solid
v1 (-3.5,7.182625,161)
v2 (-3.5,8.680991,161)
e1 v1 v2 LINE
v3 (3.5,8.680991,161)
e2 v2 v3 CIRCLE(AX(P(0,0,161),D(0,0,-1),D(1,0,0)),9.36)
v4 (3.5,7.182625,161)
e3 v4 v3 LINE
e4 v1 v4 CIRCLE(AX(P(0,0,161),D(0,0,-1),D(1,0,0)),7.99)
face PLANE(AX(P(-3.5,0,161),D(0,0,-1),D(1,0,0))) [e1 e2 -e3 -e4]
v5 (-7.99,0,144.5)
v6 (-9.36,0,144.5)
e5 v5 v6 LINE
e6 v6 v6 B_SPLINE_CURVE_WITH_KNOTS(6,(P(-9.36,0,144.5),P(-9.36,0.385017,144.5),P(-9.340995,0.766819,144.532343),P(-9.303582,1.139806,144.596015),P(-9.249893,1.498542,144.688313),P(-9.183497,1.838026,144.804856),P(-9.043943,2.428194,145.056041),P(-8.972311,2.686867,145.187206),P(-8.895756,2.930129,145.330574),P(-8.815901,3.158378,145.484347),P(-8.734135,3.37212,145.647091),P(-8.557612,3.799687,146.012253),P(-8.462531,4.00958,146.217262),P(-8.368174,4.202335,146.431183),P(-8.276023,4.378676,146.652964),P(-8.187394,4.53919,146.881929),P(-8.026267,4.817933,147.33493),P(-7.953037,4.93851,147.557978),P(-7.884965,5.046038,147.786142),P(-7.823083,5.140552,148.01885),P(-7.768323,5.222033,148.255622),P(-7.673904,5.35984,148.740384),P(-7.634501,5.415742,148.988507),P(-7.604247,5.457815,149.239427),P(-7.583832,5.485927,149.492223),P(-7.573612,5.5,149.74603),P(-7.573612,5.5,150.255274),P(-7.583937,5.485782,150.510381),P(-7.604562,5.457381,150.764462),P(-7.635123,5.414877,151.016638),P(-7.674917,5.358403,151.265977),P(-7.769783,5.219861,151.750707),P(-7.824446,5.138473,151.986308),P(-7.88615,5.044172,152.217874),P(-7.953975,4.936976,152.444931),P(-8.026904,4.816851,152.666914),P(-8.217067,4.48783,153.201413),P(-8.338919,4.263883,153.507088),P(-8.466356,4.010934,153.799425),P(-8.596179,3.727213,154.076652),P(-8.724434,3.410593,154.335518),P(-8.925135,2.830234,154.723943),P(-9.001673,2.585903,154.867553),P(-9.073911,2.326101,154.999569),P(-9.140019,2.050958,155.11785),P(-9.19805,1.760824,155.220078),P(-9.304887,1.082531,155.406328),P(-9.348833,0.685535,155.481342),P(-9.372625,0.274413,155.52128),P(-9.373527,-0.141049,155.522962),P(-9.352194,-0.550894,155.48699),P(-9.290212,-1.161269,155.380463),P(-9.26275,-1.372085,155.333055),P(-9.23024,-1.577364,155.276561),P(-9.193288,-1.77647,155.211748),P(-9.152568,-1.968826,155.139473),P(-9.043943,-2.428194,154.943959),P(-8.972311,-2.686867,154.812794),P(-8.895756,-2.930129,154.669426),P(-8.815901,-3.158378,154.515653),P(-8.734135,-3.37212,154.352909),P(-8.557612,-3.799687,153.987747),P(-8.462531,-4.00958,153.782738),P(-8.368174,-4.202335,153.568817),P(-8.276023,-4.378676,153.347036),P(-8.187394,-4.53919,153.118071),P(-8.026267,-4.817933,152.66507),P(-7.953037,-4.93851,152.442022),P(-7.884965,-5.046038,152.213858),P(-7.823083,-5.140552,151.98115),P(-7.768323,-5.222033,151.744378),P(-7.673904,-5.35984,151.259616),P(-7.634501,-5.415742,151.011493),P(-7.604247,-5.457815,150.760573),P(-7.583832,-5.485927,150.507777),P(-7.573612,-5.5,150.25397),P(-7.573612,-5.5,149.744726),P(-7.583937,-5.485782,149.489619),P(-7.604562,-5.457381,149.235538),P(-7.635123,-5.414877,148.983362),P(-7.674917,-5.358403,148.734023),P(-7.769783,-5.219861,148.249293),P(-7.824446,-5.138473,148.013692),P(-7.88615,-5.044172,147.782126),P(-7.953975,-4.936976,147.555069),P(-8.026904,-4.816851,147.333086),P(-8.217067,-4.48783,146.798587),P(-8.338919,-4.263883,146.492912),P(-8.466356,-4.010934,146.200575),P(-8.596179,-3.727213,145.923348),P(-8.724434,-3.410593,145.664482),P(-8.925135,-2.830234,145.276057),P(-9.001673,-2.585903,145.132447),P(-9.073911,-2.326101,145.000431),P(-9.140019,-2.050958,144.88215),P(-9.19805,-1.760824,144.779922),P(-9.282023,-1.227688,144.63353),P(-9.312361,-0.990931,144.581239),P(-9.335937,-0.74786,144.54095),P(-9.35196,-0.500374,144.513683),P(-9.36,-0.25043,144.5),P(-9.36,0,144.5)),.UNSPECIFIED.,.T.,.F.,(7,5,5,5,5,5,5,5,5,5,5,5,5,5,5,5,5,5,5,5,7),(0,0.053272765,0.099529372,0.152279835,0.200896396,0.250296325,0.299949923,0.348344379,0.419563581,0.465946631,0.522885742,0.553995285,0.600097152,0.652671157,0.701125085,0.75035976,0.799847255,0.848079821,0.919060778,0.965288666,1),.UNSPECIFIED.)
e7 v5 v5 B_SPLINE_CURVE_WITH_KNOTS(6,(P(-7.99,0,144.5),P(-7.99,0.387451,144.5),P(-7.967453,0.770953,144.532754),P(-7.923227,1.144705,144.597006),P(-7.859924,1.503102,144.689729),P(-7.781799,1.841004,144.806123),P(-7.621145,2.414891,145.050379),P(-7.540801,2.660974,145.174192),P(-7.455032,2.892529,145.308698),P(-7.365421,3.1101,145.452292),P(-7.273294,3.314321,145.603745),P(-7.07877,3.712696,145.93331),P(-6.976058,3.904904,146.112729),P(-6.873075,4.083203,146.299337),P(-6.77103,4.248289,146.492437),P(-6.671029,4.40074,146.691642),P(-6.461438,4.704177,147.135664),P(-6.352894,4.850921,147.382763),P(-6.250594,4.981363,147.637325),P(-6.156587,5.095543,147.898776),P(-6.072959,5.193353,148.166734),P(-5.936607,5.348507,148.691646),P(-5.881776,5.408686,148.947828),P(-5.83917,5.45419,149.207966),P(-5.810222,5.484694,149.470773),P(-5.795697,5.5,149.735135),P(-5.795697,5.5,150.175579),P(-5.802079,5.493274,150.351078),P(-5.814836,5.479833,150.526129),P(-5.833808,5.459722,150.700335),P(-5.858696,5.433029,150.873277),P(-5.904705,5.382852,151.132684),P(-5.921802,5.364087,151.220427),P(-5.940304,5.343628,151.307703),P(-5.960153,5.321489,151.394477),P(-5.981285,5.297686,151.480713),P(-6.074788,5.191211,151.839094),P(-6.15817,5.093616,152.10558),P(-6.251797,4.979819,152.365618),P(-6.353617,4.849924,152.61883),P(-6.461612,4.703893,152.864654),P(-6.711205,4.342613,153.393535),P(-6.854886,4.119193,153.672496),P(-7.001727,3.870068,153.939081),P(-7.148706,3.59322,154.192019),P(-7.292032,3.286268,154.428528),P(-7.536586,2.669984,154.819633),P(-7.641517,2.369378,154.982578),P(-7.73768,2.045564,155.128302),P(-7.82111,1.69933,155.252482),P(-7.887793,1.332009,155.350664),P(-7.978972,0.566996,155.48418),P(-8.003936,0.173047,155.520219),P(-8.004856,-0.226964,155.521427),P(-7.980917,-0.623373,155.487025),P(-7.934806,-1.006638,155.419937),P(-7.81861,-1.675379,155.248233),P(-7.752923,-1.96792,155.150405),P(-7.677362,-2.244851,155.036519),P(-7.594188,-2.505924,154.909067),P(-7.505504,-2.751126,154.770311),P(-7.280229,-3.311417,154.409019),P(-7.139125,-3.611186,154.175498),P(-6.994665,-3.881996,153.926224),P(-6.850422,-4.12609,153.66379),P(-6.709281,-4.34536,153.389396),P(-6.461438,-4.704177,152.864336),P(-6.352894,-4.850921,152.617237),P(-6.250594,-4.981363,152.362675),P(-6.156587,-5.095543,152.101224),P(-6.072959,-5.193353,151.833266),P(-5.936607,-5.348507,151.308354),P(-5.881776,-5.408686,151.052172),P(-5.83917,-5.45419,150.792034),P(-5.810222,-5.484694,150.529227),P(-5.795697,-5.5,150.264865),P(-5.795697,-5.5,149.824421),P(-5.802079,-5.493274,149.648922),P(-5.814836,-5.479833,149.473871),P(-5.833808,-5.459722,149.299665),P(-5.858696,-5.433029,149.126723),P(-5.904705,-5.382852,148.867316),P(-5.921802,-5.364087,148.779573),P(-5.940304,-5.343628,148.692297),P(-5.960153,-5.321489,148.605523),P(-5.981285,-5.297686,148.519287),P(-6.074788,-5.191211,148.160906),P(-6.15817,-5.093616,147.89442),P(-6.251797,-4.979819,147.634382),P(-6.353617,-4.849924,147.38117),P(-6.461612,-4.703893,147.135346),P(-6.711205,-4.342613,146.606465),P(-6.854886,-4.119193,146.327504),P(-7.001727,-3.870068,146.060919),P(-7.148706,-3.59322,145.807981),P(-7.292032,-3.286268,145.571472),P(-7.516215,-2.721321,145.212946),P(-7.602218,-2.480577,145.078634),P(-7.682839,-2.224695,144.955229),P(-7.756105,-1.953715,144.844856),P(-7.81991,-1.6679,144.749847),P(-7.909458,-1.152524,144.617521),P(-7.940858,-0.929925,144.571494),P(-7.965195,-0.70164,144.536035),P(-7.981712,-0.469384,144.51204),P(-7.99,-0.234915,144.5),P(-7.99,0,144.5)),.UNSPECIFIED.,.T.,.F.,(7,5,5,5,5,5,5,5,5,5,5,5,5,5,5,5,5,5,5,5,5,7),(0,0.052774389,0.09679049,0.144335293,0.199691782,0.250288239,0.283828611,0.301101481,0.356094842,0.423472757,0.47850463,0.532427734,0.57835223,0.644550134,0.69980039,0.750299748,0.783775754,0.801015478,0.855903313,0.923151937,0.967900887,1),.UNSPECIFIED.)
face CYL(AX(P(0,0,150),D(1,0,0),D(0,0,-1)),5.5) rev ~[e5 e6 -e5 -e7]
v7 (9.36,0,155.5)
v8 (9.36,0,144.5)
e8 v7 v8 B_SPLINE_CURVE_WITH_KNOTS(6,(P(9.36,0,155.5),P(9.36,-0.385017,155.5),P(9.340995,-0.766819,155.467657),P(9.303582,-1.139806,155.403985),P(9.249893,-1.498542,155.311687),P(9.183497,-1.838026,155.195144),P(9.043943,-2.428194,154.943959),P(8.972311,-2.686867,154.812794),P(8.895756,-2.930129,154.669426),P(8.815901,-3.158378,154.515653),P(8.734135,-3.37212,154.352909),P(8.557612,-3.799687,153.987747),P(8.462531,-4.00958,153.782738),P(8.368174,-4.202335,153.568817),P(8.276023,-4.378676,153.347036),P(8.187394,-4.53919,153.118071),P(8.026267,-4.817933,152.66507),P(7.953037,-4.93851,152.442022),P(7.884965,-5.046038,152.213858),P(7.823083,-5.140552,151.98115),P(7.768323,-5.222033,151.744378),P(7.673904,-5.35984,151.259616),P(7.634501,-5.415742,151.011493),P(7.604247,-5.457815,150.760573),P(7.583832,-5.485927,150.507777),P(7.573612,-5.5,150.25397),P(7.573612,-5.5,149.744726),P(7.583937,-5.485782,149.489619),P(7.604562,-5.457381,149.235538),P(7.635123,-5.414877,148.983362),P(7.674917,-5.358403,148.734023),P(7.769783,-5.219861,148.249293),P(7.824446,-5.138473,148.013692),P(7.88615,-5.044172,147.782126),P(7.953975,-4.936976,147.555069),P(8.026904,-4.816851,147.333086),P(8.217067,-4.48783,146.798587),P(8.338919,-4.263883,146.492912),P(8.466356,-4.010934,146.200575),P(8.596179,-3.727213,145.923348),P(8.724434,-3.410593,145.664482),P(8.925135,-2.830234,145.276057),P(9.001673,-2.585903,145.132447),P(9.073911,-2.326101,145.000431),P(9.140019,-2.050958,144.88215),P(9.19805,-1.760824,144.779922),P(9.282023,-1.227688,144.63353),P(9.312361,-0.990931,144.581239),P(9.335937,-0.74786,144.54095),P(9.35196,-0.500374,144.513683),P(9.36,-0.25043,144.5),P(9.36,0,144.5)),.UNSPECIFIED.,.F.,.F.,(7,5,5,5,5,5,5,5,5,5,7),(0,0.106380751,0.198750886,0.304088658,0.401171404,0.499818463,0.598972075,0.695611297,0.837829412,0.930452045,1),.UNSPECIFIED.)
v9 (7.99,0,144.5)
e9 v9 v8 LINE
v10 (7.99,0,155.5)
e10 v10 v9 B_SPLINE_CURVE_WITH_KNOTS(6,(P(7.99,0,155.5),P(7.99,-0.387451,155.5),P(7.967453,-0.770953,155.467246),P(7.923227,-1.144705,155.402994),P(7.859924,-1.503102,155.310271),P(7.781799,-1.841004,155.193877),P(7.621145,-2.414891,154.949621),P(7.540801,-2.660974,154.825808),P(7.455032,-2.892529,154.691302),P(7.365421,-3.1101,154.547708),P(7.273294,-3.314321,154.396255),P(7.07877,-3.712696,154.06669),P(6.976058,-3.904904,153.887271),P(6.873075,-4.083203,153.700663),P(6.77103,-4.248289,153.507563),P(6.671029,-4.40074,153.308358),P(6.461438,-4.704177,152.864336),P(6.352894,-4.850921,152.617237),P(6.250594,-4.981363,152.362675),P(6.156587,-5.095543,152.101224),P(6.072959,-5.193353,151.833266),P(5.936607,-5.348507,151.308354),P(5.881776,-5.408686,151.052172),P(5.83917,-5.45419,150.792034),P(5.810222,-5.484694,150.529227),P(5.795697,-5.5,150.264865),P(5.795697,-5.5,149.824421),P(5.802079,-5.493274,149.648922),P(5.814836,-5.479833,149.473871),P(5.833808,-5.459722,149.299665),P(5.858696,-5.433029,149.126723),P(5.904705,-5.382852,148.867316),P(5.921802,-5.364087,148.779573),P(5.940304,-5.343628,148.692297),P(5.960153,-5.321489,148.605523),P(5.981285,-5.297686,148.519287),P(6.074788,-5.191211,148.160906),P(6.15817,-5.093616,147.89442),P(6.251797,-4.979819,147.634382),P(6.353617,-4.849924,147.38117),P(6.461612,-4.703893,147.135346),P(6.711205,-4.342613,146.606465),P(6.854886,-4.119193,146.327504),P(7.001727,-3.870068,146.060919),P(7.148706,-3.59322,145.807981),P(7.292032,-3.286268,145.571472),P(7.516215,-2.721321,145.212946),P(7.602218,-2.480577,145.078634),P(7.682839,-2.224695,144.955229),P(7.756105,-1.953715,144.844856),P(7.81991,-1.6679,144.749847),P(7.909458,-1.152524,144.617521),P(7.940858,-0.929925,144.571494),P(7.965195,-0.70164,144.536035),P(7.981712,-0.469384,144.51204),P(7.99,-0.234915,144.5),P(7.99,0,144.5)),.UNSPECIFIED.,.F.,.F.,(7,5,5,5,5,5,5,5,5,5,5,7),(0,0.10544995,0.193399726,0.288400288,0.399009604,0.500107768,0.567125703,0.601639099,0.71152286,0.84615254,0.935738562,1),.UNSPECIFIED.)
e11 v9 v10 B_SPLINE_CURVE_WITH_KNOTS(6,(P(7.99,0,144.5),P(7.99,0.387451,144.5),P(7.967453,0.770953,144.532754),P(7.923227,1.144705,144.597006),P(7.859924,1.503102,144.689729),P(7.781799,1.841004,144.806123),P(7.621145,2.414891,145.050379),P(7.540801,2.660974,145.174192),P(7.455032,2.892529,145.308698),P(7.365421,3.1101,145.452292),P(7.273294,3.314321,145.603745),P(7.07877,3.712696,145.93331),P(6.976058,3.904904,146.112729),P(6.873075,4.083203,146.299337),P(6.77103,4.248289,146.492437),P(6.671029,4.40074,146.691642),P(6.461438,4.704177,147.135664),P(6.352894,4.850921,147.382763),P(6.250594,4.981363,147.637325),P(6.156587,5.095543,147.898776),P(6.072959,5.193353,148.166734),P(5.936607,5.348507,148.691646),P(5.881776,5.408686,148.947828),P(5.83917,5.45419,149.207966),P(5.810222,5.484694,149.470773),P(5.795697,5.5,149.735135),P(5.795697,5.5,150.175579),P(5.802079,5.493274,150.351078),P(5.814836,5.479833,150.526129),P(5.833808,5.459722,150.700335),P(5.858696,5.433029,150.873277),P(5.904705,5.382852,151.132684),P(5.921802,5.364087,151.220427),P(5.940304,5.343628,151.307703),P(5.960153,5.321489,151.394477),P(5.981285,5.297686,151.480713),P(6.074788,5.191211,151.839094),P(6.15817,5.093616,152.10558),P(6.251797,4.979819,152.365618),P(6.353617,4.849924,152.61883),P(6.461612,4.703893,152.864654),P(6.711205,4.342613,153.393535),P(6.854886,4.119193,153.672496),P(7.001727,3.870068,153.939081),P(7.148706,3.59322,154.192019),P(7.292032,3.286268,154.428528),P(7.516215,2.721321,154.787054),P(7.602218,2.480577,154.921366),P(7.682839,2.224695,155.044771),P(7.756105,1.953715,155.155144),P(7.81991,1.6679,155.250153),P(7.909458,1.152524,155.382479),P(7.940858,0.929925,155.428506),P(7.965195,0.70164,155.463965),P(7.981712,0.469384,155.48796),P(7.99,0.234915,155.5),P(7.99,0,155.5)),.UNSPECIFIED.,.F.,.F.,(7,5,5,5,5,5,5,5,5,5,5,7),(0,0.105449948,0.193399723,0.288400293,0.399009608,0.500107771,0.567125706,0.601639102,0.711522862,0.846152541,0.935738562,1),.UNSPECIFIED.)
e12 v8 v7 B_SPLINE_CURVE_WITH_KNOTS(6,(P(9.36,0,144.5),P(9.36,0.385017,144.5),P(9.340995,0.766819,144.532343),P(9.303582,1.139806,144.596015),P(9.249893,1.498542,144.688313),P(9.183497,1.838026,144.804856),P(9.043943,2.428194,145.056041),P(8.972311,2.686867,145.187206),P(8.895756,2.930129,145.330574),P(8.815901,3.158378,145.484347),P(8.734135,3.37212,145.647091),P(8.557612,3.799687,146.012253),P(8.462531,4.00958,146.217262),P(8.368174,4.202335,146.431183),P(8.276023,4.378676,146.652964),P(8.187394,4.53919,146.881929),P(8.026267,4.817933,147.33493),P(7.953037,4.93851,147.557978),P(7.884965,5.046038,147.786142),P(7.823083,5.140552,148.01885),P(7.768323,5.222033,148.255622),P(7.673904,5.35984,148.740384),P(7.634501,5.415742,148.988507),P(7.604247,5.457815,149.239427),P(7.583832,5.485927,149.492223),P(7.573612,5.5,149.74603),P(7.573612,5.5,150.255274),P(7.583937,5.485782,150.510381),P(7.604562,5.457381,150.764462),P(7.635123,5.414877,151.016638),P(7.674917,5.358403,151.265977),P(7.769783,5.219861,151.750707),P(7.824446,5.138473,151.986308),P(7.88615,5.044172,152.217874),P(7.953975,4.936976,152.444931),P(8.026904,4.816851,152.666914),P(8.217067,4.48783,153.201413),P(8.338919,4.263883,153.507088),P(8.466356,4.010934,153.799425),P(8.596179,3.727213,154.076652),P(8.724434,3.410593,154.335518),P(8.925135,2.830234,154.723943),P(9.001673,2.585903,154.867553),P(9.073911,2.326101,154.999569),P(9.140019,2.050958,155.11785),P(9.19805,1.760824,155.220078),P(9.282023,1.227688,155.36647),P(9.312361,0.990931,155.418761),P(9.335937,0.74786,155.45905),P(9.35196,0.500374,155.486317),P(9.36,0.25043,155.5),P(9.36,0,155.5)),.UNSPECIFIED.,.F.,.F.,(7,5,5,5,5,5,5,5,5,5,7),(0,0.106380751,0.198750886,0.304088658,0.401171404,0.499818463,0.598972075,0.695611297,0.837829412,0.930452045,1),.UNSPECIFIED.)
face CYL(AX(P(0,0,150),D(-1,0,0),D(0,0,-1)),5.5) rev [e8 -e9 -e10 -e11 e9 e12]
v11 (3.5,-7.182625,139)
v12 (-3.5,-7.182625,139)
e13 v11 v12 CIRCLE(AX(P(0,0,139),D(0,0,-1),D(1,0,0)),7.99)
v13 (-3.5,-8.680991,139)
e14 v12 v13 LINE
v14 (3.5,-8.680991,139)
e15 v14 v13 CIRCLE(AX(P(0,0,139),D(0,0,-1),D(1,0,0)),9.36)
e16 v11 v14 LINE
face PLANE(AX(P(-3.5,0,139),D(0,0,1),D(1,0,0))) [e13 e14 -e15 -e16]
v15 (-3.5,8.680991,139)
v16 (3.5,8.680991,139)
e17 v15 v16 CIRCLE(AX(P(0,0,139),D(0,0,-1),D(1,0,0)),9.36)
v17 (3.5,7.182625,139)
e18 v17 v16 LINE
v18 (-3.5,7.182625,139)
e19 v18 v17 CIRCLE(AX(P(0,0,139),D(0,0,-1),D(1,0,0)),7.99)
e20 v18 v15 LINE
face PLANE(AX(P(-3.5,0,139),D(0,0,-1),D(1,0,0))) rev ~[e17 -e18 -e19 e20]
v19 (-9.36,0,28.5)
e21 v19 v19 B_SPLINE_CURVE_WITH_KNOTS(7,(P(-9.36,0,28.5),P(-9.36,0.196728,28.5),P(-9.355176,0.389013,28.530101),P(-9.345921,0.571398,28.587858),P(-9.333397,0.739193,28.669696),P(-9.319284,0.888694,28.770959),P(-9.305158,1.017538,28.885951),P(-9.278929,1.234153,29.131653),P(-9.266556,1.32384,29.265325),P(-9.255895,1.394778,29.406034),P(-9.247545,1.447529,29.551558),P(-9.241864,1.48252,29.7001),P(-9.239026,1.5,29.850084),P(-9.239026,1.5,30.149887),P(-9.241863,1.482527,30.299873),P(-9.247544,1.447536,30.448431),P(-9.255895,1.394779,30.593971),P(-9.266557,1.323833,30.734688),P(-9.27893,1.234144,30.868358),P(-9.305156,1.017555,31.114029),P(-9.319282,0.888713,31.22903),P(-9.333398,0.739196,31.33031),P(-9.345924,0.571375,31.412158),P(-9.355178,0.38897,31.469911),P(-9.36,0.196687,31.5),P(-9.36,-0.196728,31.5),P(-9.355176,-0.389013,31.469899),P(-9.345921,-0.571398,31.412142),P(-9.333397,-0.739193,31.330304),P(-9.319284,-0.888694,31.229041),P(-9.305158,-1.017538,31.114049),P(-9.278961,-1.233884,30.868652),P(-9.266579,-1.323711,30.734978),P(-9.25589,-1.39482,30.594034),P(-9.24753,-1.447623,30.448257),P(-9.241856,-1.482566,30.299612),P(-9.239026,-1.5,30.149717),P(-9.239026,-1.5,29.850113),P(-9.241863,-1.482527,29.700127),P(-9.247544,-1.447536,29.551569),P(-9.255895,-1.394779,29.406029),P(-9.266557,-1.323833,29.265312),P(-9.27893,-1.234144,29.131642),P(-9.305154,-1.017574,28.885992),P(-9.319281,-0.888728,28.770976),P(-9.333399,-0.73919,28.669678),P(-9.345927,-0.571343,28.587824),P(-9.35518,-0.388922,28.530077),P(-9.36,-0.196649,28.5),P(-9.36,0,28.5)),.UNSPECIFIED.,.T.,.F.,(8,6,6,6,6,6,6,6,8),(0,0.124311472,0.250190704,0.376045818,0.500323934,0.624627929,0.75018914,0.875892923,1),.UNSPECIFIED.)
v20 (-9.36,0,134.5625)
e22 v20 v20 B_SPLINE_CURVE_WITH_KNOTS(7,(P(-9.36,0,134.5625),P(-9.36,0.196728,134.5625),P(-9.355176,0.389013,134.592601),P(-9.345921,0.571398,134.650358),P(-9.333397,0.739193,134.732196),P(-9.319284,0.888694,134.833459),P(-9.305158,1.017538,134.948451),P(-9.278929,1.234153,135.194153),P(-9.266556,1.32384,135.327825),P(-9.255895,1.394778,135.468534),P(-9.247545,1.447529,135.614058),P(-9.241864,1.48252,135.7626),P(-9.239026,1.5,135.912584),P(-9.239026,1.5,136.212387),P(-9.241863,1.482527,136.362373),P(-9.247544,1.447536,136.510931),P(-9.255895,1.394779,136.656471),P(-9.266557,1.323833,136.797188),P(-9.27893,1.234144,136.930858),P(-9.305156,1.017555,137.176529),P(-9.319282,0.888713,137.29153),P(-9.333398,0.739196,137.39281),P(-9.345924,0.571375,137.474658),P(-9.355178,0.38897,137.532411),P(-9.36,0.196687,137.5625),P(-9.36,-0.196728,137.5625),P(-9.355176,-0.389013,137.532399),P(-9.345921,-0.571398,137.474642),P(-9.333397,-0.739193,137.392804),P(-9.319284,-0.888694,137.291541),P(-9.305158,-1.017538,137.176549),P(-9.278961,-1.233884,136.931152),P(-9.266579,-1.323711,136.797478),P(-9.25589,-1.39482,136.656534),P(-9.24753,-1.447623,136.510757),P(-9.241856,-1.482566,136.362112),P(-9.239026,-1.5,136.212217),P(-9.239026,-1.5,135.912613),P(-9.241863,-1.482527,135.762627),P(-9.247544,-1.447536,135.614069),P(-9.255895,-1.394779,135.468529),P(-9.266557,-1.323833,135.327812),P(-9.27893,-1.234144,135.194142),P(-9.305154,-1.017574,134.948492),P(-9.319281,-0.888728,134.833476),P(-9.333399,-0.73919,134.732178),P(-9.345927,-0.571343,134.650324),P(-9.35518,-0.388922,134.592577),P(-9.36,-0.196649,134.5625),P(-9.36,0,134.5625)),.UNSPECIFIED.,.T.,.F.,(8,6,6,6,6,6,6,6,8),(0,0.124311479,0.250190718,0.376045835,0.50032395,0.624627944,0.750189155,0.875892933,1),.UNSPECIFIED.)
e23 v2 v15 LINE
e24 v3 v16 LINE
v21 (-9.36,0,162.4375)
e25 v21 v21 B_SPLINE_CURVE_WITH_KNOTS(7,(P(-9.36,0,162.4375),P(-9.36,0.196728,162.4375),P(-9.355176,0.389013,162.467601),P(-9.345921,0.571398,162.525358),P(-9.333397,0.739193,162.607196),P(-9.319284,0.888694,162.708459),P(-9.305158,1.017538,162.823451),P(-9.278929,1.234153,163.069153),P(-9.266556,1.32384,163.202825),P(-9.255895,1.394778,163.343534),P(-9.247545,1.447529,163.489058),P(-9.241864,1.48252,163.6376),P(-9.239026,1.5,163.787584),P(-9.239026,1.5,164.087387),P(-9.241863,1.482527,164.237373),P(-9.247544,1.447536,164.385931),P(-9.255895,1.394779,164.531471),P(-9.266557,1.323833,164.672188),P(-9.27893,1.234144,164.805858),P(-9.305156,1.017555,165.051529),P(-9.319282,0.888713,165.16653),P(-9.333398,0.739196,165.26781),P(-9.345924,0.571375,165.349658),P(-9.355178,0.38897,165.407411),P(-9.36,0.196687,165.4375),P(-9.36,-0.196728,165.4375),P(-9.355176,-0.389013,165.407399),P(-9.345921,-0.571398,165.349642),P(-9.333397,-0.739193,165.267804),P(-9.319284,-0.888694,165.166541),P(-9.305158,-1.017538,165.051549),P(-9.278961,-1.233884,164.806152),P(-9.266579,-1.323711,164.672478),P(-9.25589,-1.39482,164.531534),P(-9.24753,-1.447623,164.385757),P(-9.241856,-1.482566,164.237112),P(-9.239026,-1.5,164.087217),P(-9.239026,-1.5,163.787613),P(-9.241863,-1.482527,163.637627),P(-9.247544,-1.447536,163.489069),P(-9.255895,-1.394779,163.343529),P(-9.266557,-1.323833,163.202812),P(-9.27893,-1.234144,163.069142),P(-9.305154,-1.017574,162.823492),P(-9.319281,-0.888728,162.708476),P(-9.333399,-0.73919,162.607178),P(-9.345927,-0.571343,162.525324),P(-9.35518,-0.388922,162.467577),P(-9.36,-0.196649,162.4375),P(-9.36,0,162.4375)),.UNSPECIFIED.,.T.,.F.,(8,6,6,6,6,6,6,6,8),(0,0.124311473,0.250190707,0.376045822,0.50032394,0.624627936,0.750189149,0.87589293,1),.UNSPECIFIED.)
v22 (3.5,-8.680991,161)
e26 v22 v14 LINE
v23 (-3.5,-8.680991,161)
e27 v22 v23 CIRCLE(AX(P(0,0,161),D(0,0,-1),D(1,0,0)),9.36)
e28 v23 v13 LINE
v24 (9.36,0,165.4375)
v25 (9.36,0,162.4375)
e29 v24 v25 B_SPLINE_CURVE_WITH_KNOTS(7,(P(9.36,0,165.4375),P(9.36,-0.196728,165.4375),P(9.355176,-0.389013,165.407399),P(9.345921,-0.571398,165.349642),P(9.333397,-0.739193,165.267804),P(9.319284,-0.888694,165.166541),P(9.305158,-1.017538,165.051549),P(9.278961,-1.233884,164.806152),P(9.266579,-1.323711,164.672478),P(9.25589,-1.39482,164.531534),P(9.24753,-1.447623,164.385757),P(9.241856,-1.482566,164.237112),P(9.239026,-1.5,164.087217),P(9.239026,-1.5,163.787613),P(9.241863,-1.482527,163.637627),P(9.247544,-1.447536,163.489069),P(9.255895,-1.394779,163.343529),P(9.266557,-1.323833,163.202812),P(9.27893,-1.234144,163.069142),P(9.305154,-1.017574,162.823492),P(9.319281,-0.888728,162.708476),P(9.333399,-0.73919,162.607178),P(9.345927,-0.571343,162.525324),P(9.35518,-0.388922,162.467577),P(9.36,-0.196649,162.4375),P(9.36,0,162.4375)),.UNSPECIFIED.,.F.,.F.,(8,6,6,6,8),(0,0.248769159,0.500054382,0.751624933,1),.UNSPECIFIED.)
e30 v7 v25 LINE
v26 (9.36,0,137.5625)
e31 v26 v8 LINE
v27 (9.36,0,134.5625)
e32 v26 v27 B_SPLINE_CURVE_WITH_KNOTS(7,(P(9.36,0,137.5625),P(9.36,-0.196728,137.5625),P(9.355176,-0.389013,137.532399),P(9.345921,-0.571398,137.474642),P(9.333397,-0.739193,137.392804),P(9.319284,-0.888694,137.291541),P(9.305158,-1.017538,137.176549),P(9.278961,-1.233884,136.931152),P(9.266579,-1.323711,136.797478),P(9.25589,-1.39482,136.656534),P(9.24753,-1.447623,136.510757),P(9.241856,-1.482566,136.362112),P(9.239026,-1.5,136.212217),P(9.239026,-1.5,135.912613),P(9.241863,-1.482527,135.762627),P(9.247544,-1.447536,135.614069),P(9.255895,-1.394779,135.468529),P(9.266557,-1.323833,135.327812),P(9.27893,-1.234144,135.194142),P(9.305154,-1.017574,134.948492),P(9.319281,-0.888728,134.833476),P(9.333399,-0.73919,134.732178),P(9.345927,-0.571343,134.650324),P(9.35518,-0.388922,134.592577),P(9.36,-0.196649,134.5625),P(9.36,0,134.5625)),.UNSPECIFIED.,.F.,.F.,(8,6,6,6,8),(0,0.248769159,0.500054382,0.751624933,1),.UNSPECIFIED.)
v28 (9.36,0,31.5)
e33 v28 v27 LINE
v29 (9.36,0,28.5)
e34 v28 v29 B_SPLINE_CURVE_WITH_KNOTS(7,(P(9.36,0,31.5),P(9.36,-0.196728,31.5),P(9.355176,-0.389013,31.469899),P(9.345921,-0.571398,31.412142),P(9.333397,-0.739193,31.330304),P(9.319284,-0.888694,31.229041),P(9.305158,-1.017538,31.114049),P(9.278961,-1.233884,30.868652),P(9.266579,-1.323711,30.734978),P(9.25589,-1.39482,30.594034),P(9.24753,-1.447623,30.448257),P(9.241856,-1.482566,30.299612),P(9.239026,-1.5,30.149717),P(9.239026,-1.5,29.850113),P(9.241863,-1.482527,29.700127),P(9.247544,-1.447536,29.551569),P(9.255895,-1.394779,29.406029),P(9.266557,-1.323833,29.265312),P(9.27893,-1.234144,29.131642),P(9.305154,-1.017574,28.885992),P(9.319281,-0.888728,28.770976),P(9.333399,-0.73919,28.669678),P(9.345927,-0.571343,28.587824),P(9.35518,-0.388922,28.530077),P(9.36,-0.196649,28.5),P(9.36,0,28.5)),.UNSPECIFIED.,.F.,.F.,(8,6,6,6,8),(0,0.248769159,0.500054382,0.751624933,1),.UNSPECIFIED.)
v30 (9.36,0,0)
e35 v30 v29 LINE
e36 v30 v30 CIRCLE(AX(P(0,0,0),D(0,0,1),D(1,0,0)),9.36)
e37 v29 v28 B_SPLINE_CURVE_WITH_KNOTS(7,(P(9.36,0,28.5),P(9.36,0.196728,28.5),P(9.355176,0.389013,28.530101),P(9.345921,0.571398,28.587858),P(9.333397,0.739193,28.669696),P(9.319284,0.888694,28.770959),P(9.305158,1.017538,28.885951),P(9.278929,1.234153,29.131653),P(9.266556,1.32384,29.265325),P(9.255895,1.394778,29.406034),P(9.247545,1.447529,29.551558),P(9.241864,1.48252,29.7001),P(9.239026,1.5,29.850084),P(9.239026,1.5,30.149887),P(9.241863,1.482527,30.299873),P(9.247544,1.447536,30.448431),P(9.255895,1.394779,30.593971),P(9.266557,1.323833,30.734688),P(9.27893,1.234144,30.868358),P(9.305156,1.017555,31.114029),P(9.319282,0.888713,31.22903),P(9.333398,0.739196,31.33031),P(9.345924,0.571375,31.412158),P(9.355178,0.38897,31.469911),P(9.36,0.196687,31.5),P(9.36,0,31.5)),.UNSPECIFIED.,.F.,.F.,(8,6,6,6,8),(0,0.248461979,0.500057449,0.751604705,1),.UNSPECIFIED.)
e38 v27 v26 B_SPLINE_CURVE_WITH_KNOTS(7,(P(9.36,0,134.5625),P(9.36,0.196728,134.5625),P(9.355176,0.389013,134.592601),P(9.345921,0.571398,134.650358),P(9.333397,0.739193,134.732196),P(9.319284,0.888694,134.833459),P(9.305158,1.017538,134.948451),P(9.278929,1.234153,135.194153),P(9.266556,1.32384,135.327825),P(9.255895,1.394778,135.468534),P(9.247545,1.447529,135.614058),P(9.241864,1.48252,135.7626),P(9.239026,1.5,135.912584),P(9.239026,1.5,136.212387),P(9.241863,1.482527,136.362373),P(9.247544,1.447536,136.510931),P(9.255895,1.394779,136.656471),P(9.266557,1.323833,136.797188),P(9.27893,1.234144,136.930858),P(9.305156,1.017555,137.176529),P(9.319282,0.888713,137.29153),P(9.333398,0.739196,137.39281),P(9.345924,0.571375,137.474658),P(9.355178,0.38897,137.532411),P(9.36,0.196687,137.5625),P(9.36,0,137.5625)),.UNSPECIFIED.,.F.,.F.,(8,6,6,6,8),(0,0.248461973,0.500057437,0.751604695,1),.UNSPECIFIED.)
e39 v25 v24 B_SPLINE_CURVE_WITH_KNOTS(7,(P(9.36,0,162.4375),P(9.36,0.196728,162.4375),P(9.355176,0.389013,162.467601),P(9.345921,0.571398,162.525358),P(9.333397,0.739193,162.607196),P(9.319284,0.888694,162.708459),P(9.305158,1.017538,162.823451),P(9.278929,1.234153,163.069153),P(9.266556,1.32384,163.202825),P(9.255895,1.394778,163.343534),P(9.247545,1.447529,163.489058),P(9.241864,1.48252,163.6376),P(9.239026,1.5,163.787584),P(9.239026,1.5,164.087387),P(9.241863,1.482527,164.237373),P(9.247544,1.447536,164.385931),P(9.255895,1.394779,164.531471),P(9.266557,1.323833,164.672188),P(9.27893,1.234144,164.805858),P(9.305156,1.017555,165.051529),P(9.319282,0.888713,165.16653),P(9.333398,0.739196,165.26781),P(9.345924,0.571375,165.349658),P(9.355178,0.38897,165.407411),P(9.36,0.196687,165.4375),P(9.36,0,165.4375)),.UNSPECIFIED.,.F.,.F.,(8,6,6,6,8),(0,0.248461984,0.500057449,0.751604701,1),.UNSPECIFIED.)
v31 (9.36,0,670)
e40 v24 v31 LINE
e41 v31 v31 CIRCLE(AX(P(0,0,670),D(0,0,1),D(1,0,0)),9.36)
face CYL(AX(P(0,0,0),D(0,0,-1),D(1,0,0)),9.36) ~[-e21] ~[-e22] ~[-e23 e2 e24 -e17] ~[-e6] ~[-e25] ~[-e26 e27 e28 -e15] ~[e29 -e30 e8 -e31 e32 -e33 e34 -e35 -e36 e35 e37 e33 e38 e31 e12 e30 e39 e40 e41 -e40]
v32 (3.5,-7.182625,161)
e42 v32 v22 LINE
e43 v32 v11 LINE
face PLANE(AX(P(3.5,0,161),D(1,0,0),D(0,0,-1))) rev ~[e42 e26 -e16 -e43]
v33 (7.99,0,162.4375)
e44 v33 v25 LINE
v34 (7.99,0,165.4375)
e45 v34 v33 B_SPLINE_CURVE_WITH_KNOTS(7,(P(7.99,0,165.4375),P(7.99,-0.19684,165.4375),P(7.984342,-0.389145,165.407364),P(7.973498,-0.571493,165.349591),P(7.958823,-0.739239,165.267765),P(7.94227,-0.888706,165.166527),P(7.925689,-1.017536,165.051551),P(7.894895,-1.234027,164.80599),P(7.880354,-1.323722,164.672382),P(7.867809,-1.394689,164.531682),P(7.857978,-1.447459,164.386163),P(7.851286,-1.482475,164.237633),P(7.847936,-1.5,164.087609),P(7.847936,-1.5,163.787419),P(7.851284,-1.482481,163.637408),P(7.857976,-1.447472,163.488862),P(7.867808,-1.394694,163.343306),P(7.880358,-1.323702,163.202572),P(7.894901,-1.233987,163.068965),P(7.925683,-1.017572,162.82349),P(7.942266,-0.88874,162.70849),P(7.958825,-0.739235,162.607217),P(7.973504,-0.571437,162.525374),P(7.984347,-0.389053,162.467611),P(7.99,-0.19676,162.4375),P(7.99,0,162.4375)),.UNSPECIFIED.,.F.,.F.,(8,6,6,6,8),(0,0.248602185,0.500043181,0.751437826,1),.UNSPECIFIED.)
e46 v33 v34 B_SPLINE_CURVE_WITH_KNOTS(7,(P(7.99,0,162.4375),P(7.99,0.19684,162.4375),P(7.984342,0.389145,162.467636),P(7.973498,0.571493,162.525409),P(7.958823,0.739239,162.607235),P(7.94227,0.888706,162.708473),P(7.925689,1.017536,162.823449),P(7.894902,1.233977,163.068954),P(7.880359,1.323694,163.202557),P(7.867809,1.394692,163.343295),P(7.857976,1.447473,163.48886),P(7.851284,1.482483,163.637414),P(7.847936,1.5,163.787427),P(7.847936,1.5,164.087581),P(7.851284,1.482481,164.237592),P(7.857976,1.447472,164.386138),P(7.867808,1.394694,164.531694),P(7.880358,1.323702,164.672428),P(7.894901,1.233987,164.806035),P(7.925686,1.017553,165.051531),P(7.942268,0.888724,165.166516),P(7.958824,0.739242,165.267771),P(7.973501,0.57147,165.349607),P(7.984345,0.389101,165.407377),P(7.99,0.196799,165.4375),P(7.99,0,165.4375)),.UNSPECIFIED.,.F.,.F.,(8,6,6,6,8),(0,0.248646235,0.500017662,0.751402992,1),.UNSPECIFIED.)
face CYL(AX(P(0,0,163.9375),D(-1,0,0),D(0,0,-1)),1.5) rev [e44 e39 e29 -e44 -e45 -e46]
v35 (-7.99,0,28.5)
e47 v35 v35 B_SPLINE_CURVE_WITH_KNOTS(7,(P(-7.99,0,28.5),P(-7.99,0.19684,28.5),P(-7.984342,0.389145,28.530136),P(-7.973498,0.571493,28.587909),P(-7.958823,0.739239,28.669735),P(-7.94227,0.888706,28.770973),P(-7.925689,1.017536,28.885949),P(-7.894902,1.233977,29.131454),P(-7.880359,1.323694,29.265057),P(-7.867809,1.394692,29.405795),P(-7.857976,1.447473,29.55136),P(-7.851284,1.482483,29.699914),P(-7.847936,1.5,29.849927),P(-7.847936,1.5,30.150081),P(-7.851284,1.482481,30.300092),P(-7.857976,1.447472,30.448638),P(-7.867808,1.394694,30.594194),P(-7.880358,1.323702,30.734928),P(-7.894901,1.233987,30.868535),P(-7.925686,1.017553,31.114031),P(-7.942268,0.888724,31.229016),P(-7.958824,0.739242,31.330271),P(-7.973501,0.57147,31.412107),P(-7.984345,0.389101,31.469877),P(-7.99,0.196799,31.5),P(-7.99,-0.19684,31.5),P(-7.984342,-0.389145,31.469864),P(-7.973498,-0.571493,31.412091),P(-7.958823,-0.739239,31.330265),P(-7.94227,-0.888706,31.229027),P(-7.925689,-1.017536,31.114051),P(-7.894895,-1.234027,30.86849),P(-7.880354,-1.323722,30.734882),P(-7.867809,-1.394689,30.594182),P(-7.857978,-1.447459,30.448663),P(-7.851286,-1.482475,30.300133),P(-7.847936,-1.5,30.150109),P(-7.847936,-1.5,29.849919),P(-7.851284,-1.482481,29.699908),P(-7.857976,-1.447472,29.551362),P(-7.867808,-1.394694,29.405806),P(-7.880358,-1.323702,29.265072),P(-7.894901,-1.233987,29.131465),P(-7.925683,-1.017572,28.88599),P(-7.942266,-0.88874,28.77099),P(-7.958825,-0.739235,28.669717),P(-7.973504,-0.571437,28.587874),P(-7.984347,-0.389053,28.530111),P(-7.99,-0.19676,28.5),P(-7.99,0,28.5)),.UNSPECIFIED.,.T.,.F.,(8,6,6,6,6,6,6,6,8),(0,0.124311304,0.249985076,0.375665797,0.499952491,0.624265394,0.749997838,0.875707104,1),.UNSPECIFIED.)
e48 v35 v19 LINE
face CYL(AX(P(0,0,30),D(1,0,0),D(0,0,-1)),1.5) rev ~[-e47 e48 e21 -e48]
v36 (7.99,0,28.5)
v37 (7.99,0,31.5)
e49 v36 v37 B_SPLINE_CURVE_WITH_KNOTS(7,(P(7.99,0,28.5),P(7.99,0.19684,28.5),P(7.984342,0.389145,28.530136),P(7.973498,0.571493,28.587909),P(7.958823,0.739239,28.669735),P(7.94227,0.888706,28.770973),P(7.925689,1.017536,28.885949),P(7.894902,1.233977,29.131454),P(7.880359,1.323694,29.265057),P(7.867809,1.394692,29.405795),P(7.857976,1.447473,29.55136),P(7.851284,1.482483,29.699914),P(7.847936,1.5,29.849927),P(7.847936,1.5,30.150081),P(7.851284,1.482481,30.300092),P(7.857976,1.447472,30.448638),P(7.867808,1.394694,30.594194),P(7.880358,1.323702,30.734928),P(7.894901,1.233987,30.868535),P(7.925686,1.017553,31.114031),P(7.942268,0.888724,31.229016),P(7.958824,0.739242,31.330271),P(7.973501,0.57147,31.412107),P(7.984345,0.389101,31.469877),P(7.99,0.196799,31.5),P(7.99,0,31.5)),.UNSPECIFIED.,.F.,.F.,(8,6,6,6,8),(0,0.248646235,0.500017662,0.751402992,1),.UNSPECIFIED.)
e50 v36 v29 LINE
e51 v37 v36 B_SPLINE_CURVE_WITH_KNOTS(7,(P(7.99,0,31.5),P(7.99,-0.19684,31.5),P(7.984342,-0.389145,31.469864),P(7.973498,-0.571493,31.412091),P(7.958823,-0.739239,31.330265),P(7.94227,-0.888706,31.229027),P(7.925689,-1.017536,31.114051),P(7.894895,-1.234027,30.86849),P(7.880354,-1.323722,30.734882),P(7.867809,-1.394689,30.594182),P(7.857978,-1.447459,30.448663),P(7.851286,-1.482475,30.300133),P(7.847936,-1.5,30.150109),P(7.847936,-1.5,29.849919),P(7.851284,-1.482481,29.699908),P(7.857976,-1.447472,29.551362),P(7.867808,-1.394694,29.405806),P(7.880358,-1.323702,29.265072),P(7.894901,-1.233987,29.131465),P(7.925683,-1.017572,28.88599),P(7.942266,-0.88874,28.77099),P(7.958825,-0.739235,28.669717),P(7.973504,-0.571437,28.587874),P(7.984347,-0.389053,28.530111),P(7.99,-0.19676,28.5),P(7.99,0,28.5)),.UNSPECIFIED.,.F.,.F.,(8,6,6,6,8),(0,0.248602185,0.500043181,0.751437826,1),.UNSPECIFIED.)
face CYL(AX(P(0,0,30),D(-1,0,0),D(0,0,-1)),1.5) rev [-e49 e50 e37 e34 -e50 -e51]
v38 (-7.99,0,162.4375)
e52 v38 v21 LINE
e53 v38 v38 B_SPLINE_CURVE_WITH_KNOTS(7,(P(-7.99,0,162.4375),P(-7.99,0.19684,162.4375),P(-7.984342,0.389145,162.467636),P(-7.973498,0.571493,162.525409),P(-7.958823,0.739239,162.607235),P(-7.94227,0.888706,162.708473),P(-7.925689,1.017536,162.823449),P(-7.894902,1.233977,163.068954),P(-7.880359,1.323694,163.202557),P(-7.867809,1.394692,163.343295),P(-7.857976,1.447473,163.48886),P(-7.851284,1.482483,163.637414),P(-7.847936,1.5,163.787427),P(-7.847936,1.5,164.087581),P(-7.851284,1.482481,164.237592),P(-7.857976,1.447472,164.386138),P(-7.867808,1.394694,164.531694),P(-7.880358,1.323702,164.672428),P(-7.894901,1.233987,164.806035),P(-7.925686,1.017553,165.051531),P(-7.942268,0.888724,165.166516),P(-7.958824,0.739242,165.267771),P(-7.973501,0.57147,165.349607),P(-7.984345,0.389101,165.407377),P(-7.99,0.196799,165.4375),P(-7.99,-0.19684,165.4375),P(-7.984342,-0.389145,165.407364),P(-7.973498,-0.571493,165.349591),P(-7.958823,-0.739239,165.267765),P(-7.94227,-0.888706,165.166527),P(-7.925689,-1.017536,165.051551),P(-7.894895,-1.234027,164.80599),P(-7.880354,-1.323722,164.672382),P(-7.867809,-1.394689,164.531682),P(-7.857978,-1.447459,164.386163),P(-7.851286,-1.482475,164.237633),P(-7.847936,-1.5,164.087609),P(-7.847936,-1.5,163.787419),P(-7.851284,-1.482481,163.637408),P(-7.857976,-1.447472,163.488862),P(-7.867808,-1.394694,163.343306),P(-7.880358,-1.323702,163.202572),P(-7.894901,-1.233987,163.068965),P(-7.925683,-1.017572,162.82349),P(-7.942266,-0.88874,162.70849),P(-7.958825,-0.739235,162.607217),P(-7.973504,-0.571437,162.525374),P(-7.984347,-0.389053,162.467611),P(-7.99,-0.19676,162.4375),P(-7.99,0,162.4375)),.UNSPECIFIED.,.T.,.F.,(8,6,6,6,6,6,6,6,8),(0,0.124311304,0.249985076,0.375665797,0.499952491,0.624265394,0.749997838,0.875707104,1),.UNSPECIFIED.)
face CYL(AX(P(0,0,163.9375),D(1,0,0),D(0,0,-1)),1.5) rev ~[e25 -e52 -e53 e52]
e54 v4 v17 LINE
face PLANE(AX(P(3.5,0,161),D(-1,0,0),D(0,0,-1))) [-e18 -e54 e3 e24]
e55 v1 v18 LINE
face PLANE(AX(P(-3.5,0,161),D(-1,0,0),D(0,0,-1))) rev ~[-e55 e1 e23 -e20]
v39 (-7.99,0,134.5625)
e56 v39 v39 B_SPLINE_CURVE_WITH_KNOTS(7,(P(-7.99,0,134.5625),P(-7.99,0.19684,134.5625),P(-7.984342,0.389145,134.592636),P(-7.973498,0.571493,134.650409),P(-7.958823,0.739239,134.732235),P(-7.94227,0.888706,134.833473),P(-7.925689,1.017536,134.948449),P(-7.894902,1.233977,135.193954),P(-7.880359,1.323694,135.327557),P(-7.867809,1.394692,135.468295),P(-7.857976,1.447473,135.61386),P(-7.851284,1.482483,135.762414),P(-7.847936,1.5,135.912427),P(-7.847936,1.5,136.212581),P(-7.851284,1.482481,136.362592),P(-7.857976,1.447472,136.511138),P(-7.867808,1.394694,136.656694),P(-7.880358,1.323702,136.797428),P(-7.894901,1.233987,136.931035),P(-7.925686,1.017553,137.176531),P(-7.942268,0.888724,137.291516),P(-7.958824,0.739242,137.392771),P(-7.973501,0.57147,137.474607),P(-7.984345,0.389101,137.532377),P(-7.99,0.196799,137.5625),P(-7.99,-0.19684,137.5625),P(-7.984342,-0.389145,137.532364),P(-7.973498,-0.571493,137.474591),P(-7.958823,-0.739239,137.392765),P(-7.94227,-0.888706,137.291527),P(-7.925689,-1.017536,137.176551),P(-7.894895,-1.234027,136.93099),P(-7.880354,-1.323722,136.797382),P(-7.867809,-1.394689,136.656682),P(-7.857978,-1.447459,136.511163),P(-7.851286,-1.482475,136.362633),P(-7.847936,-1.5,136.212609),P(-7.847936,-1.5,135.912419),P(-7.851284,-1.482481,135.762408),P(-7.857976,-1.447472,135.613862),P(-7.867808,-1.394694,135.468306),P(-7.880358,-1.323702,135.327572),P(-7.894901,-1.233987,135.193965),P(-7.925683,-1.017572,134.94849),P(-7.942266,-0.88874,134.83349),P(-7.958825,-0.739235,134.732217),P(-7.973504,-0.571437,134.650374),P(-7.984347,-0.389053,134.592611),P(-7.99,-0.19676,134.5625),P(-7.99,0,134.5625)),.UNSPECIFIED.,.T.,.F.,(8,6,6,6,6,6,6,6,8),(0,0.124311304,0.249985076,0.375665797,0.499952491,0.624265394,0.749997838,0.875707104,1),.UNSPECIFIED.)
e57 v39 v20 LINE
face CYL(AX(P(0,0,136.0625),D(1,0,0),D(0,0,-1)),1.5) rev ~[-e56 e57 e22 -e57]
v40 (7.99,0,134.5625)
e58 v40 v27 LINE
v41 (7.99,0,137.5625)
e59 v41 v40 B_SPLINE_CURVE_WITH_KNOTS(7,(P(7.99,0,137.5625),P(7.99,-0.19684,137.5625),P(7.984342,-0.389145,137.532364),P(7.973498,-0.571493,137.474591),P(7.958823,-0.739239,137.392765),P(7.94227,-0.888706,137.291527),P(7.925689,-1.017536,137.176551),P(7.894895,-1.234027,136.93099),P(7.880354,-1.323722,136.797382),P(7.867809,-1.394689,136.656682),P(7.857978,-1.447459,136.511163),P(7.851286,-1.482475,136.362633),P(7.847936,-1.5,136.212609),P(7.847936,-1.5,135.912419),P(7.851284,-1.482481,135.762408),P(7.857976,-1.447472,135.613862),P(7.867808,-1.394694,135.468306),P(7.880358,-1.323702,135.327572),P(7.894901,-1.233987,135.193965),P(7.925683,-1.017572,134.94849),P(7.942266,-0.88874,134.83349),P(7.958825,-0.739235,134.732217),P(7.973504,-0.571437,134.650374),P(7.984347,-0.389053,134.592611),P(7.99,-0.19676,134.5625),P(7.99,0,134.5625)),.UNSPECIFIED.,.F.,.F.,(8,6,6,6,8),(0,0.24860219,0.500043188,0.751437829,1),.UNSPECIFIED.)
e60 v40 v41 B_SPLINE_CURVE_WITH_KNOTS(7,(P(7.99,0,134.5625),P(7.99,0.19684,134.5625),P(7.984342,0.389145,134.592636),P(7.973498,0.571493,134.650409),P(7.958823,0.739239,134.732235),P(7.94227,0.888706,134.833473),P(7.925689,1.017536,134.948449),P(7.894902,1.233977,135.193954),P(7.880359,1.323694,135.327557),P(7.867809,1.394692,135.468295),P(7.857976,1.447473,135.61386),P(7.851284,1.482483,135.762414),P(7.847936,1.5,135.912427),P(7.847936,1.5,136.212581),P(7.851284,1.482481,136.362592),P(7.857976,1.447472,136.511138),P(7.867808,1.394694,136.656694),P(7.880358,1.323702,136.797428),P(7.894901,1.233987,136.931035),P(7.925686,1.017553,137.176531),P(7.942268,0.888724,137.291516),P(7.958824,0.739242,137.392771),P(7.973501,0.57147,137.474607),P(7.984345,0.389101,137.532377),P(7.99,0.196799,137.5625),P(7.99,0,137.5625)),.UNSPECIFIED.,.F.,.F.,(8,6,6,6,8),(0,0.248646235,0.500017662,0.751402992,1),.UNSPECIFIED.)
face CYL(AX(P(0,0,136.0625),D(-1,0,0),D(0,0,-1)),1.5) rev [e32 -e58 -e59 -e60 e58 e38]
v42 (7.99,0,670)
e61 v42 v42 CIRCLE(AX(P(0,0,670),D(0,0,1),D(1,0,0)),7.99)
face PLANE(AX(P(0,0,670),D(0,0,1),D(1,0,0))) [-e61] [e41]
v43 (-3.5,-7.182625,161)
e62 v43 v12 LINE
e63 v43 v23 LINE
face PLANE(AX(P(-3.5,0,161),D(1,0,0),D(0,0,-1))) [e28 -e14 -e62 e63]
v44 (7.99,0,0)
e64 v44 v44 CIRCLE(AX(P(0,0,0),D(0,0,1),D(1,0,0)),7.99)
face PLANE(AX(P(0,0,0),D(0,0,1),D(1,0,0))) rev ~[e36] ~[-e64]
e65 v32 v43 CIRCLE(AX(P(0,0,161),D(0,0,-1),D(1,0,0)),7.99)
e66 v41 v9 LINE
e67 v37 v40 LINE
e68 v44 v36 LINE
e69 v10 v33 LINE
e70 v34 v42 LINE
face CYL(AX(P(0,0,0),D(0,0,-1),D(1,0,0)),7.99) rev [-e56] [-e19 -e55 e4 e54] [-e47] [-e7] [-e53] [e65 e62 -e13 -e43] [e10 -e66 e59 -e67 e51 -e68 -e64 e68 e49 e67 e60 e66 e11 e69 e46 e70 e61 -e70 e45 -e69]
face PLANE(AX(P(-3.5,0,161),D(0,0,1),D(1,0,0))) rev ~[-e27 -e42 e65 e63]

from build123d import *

# Parameters (mm, degrees)
SKETCH1_R           = 9.36
SKETCH1_R_2         = 7.99
EXTRUDE1_DEPTH      = 670
SKETCH2_R           = 1.5
SKETCH2_R_2         = 5.5
EXTRUDE2_DEPTH      = 10.36
EXTRUDE2_DEPTH_BACK = 10.36
SKETCH3_W           = 7
SKETCH3_H           = 22
EXTRUDE3_DEPTH      = 25
EXTRUDE3_DEPTH_BACK = 25


with BuildPart() as part:
    # Sketch1 → Extrude1 (new body)
    with BuildSketch(Plane.XY):
        Circle(SKETCH1_R)
        Circle(SKETCH1_R_2, mode=Mode.SUBTRACT)
    extrude(amount=EXTRUDE1_DEPTH)

    # Sketch2 → Extrude2 (cut, two sides)
    with BuildSketch(Plane(origin=(0, 0, 0), x_dir=(0, 0, -1), z_dir=(1, 0, 0))) as extrude2_sk:
        with Locations((-30, 0)):
            Circle(SKETCH2_R)
        with Locations((-150, 0)):
            Circle(SKETCH2_R_2)
        with Locations((-136.0625, 0)):
            Circle(SKETCH2_R)
        with Locations((-163.9375, 0)):
            Circle(SKETCH2_R)
    extrude(amount=EXTRUDE2_DEPTH, mode=Mode.SUBTRACT)
    extrude(extrude2_sk.sketch, amount=-EXTRUDE2_DEPTH_BACK, mode=Mode.SUBTRACT)

    # Sketch3 → Extrude3 (cut, two sides)
    with BuildSketch(Plane(origin=(0, 0, 0), x_dir=(1, 0, 0), z_dir=(0, 1, 0))) as extrude3_sk:
        with Locations((0, -150)):
            Rectangle(SKETCH3_W, SKETCH3_H)
    extrude(amount=EXTRUDE3_DEPTH, mode=Mode.SUBTRACT)
    extrude(extrude3_sk.sketch, amount=-EXTRUDE3_DEPTH_BACK, mode=Mode.SUBTRACT)


solid = part.part
